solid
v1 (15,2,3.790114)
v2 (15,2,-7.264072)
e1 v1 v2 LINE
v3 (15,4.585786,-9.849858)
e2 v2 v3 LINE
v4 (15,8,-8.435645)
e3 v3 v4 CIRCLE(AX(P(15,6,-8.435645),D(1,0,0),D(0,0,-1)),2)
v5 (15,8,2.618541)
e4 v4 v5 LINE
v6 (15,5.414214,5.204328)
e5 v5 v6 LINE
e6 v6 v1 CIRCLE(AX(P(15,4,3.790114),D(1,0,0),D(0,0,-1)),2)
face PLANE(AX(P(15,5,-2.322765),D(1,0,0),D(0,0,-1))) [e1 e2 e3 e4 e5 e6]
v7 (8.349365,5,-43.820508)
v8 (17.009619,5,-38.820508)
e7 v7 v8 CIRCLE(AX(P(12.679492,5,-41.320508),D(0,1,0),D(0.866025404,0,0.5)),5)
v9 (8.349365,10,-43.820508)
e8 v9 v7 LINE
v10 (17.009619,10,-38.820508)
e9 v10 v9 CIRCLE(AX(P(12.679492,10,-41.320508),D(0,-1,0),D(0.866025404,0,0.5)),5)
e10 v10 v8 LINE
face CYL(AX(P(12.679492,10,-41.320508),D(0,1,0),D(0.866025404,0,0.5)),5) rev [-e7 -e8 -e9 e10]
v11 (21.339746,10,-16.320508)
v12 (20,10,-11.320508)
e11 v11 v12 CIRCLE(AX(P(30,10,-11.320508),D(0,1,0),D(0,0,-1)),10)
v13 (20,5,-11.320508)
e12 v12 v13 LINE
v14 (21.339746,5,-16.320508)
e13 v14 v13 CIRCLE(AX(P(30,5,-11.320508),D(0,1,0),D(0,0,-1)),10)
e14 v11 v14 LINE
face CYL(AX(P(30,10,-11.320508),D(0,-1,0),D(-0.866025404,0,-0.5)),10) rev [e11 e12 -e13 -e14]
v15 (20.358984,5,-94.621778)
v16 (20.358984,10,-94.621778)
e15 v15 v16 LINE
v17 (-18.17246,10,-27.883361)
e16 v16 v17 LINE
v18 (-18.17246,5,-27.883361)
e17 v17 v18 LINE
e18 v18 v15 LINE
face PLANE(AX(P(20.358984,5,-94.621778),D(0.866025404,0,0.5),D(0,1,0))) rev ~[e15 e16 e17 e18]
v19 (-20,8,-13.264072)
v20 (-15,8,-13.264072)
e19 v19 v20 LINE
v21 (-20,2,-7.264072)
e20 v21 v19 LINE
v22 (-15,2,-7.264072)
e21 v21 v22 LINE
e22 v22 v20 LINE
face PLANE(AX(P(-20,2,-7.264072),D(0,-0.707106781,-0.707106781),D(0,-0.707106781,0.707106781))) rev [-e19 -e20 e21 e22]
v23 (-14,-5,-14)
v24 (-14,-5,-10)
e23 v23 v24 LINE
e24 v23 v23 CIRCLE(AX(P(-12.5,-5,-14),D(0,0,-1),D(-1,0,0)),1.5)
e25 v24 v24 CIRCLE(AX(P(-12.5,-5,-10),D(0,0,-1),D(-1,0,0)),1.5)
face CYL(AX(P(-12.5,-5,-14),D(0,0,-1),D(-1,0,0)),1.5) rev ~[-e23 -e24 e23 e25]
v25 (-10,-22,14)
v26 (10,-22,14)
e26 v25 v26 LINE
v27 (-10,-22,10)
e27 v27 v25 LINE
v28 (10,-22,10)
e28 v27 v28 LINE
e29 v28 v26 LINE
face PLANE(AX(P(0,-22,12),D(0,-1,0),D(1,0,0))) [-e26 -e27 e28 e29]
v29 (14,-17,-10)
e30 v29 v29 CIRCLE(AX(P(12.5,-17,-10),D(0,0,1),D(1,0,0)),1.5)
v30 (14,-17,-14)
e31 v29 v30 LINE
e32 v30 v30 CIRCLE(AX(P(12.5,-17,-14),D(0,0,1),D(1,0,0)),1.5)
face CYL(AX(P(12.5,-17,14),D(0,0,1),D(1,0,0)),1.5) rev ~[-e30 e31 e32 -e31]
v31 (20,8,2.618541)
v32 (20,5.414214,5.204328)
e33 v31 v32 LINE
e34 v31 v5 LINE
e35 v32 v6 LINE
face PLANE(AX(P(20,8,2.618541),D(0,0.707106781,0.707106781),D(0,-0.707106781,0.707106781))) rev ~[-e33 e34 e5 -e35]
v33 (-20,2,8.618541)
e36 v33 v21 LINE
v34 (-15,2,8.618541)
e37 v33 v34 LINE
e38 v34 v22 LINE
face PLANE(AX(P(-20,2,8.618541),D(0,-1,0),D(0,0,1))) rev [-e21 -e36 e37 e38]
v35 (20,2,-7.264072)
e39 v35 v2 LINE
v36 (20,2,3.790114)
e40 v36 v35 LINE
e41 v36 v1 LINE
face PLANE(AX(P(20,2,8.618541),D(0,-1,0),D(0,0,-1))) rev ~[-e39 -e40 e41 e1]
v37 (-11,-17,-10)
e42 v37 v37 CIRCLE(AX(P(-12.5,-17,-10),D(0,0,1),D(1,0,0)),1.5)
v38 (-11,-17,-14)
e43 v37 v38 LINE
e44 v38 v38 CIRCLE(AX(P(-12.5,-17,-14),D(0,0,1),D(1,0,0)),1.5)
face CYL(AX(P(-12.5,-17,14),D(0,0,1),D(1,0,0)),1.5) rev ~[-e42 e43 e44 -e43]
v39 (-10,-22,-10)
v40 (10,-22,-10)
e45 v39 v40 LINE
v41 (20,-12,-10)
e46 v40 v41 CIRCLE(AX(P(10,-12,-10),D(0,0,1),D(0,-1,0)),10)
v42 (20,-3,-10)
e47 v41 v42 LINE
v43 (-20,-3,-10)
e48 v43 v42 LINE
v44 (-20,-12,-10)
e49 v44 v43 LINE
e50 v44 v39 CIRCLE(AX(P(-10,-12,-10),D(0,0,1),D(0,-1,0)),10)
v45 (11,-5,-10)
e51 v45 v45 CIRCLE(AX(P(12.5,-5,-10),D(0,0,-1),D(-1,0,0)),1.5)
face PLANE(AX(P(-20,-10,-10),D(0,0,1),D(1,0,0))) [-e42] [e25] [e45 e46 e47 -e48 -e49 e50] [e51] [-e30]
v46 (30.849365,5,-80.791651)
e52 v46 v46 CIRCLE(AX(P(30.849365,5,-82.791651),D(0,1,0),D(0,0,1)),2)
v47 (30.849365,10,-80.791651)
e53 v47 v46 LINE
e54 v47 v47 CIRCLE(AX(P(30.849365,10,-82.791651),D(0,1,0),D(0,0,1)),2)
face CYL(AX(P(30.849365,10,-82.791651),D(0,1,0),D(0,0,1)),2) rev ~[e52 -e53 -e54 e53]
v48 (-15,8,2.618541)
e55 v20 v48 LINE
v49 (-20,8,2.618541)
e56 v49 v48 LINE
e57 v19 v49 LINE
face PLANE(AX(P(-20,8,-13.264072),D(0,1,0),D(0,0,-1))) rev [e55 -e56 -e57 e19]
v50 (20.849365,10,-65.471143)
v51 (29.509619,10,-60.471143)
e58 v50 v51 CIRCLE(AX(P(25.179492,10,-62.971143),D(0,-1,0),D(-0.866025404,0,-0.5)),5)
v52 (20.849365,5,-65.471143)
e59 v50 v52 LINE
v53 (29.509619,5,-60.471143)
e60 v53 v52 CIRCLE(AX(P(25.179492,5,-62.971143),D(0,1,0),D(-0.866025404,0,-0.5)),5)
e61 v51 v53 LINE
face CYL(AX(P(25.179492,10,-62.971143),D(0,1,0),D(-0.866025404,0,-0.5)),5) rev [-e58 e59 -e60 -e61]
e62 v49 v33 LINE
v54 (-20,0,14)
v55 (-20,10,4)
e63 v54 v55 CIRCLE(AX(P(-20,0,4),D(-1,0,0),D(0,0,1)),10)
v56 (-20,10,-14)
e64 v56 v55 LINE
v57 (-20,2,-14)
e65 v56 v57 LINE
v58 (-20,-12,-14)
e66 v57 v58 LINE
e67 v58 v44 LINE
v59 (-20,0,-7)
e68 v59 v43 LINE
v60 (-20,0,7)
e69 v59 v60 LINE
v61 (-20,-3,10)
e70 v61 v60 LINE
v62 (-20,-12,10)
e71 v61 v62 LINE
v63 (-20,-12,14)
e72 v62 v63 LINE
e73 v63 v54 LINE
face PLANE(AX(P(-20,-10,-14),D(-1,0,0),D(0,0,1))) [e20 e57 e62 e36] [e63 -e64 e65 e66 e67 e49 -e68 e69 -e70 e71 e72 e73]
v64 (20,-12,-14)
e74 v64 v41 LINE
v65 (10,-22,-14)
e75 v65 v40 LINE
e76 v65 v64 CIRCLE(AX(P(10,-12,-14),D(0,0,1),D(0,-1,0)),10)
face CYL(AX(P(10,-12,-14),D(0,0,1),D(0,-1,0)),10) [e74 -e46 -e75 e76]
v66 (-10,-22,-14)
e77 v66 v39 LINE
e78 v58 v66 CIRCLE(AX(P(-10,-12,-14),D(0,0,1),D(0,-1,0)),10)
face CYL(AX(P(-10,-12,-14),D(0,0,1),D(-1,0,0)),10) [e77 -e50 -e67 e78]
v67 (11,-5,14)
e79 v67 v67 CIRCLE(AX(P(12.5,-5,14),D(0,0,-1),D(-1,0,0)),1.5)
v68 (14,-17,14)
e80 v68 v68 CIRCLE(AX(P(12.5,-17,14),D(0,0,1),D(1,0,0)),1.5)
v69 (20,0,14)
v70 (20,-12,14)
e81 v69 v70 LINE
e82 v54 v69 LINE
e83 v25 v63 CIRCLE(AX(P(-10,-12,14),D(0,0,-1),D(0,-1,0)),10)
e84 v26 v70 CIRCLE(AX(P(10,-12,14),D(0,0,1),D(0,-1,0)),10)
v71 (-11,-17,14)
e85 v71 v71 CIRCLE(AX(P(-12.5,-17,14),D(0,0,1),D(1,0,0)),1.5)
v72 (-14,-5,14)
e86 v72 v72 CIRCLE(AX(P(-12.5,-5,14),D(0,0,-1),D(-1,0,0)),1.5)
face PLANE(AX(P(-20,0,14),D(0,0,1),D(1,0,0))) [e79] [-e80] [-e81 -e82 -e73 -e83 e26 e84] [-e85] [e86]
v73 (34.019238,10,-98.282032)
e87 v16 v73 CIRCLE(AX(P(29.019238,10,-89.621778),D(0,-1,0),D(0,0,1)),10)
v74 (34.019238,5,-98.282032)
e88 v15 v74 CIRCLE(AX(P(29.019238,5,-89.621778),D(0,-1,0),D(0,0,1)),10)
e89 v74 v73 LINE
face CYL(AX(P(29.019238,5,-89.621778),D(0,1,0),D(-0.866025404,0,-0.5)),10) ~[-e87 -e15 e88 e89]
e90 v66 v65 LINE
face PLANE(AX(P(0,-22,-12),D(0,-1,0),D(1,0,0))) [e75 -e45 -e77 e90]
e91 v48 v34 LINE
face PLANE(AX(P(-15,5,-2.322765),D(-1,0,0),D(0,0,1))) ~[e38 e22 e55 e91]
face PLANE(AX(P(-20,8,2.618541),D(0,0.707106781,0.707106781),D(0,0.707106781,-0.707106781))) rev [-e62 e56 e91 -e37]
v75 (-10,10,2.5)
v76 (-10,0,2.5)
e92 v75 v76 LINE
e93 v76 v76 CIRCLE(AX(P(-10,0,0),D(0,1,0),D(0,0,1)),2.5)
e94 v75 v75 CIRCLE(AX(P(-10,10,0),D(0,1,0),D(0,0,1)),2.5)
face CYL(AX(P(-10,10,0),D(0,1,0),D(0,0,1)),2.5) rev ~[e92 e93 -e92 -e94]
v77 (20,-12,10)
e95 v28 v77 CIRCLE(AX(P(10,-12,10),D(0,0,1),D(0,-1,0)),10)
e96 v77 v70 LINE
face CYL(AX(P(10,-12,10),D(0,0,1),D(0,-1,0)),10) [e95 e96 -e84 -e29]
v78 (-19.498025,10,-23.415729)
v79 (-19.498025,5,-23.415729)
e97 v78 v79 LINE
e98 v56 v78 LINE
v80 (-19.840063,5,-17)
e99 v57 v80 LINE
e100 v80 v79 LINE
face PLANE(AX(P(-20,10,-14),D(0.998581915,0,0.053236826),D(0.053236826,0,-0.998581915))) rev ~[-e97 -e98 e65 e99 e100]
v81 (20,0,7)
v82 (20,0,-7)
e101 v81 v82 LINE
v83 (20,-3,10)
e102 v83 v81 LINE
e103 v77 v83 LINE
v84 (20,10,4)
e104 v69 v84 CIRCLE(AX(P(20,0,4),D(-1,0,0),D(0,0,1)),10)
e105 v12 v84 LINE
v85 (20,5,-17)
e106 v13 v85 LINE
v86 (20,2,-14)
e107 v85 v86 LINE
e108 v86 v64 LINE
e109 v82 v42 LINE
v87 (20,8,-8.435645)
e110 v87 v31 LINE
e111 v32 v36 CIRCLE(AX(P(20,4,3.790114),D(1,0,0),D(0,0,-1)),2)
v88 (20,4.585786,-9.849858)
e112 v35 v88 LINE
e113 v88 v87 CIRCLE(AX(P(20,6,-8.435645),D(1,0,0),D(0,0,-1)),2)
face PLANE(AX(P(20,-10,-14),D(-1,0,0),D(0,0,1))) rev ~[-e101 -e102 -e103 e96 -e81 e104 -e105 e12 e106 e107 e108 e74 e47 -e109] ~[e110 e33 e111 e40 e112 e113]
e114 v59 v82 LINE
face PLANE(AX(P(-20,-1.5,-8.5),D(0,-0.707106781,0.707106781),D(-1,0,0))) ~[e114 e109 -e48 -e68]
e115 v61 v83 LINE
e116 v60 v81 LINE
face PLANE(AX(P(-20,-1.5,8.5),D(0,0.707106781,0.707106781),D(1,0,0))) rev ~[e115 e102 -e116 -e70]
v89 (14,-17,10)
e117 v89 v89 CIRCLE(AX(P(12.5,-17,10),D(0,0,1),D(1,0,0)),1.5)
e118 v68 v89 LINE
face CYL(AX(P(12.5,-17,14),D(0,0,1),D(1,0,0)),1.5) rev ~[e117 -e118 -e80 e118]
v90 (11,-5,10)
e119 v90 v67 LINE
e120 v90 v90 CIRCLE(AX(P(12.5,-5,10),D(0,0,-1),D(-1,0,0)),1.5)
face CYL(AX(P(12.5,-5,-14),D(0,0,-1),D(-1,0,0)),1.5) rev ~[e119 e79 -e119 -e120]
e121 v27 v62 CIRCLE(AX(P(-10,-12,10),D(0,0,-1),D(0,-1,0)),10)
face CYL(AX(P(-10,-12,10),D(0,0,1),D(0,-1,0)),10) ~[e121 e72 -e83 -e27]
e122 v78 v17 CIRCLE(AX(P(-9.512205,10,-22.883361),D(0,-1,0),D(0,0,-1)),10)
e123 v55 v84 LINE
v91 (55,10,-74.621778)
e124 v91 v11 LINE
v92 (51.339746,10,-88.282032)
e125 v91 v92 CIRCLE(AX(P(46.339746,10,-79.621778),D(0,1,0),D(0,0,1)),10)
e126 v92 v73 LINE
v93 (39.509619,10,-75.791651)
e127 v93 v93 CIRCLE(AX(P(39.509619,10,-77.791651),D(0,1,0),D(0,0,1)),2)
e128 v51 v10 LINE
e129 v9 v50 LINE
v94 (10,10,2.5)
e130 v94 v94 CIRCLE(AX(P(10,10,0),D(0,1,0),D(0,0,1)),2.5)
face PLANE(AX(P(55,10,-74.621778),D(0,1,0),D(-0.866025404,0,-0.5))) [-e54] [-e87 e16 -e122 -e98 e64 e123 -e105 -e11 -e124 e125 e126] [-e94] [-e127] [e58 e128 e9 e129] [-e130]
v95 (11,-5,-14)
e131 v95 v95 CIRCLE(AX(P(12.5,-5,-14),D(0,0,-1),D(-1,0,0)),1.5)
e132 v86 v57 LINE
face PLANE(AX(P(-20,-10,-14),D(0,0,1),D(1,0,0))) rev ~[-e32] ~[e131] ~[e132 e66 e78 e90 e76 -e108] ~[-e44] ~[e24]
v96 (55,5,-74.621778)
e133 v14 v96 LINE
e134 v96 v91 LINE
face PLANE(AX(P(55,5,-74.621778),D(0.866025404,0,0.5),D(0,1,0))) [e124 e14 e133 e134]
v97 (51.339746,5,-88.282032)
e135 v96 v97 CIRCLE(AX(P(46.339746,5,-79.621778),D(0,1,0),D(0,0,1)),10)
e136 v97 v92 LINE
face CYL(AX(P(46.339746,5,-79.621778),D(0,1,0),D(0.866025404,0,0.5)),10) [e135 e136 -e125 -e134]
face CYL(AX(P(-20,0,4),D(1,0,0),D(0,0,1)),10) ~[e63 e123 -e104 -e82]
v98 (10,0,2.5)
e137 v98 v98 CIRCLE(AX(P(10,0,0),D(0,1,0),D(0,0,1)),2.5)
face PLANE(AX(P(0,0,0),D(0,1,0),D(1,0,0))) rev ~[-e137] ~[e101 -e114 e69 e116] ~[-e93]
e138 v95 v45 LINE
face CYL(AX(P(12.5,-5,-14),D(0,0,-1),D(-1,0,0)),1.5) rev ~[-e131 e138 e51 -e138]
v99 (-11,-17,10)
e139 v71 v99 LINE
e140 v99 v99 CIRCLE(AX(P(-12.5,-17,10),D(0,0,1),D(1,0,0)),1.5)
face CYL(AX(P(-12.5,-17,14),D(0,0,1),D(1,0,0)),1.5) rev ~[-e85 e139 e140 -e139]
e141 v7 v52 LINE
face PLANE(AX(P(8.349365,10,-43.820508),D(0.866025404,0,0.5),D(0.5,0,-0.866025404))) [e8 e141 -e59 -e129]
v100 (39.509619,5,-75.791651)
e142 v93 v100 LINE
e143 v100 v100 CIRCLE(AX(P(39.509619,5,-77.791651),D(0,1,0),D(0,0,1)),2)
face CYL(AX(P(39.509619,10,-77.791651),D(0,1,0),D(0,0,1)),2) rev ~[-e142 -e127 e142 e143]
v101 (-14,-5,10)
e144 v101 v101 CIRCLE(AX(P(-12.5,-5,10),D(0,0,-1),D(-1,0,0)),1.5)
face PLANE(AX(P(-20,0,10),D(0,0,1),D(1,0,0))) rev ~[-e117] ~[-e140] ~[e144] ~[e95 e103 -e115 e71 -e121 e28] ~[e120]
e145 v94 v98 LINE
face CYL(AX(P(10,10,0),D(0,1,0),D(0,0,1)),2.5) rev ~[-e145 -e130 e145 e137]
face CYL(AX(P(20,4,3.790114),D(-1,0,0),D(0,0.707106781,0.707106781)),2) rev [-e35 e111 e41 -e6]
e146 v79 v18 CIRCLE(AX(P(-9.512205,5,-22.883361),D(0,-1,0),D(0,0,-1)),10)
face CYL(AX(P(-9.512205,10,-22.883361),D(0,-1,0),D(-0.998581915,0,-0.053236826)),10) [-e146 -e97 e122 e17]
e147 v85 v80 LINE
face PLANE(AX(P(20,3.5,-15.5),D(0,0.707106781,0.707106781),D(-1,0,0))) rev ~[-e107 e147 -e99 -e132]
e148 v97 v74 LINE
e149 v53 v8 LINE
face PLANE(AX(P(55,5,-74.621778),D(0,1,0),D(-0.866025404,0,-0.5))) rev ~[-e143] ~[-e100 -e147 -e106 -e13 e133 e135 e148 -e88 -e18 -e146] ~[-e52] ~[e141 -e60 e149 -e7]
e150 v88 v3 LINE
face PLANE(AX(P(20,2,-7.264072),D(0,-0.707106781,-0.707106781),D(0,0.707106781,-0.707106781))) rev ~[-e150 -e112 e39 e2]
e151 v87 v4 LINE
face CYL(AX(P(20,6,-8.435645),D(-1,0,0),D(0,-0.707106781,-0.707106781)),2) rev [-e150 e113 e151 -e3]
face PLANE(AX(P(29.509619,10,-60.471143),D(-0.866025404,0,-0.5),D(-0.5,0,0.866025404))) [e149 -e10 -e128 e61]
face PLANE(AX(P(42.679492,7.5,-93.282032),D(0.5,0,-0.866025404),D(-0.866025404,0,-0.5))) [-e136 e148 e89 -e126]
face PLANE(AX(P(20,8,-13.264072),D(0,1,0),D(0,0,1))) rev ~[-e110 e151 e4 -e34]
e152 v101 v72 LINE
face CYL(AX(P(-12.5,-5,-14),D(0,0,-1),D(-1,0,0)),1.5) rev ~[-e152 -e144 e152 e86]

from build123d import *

# Parameters (mm, degrees)
EXTRUDE_1_DEPTH      = 10
SKETCH_2_W           = 40
SKETCH_2_H           = 4
SKETCH_2_H_2         = 3.9999999999999982
EXTRUDE_2_DEPTH      = 10
SKETCH_4_W           = 40
SKETCH_4_H           = 5
EXTRUDE_3_DEPTH      = 15
SKETCH_6_W           = 40
SKETCH_6_H           = 5
EXTRUDE_4_DEPTH      = 15
SKETCH_8_R           = 2.5000000000000004
CUT_EXTRUDE_2_DEPTH  = 15
CHAMFER_1_SIZE       = 3
FILLET_1_R           = 10
CHAMFER_2_SIZE       = 3
SKETCH_9_R           = 1.5000000000000007
CUT_EXTRUDE_3_DEPTH  = 38.41657386773942
CUT_EXTRUDE_4_DEPTH  = 5
FILLET_3_R           = 2
SKETCH_11_W          = 40
SKETCH_11_H          = 6.999999999999998
SKETCH_11_H_2        = 7
EXTRUDE_5_DEPTH      = 3
CHAMFER_3_SIZE       = 1
SKETCH_12_W          = 40
SKETCH_12_H          = 5
EXTRUDE_6_DEPTH      = 30
FILLET_4_R           = 10
SKETCH_13_R          = 2
SKETCH_13_R_2        = 2.0000000000000027
CUT_EXTRUDE_5_DEPTH  = 30
EXTRUDE_START        = -5
EXTRUDE_7_DEPTH      = 5
CUT_EXTRUDE_6_DEPTH  = 5
SKETCH_16_W          = 20.000000000000007
SKETCH_16_H          = 9.517030698893077
CUT_EXTRUDE_7_DEPTH  = 122.15395545343927
SKETCH_17_W          = 40
SKETCH_17_H          = 3.9999999999999982
SKETCH_17_H_2        = 4
EXTRUDE_8_DEPTH      = 12
SKETCH_18_R          = 1.5000000000000007
SKETCH_18_R_2        = 1.5000000000000009
CUT_EXTRUDE_8_DEPTH  = 124.72425272933131
SKETCH_19_R          = 2.0000000000000067
SKETCH_19_R_2        = 2.0000000000000036
CUT_EXTRUDE_9_DEPTH  = 115.02754457592229
CUT_EXTRUDE_10_DEPTH = 115.02754457592229
EXTRUDE_9_DEPTH      = 5
SKETCH_23_R          = 2.0000000000000036
SKETCH_23_R_2        = 2.0000000000000067
CUT_EXTRUDE_11_DEPTH = 115.0275445759223
SKETCH_24_R          = 2.0000000000000067
SKETCH_24_R_2        = 2.0000000000000036
CUT_EXTRUDE_12_DEPTH = 115.02754457592229
CUT_EXTRUDE_13_DEPTH = 115.02754457592229
SKETCH_26_W          = 40
SKETCH_26_H          = 5
EXTRUDE_10_DEPTH     = 10
FILLET_6_R           = 10


with BuildPart() as part:
    # 草图1 → 凸台-拉伸1 (new body)
    with BuildSketch(Plane(origin=(0, 0, 0), x_dir=(1, 0, 0), z_dir=(0, 1, 0))):
        Polygon((20.000000000000004, 14.000000000000007), (-19.999999999999996, 14.000000000000002), (-19.999999999999996, -13.999999999999998), (20.000000000000004, -13.999999999999993), align=None)
    extrude(amount=EXTRUDE_1_DEPTH)

    # 草图2 → 凸台-拉伸2 (add)
    with BuildSketch(Plane.XZ):
        with Locations((3.55e-15, 11.999999999999998)):
            Rectangle(SKETCH_2_W, SKETCH_2_H)
        with Locations((3.55e-15, -12.000000000000007)):
            Rectangle(SKETCH_2_W, SKETCH_2_H_2)
    extrude(amount=EXTRUDE_2_DEPTH)

    # 草图4 → 凸台-拉伸3 (add)
    with BuildSketch(Plane(origin=(-1.82e-15, 0, -14.000000000000004), x_dir=(-1, 0, 1.3e-16), z_dir=(-1.3e-16, 0, -1))):
        with Locations((-7.11e-15, 7.5)):
            Rectangle(SKETCH_4_W, SKETCH_4_H)
    extrude(amount=EXTRUDE_3_DEPTH)

    # 草图6 → 凸台-拉伸4 (add)
    with BuildSketch(Plane(origin=(-3.77e-15, 0, -29.000000000000004), x_dir=(-1, 0, 1.3e-16), z_dir=(-1.3e-16, 0, -1))):
        with Locations((-3.55e-15, 7.5)):
            Rectangle(SKETCH_6_W, SKETCH_6_H)
    extrude(amount=EXTRUDE_4_DEPTH)

    # 草图8 → 切除-拉伸2 (cut)
    with BuildSketch(Plane(origin=(0, 10, 0), x_dir=(1, 0, 0), z_dir=(0, 1, 0))):
        with Locations(Location((-10.000000000000004, 1.73e-15, 0), (0, 0, 270))):
            Circle(SKETCH_8_R)
        with Locations(Location((10.000000000000002, 1.73e-15, 0), (0, 0, 270))):
            Circle(SKETCH_8_R)
    extrude(amount=-CUT_EXTRUDE_2_DEPTH, mode=Mode.SUBTRACT)

    # 倒角1
    chamfer_1_edges = [part.edges().sort_by_distance(p)[0] for p in [
        (3.55e-15, 0, 9.999999999999998),
        (3.55e-15, 0, -10.000000000000007),
    ]]
    chamfer(chamfer_1_edges, length=CHAMFER_1_SIZE)

    # 圆角1
    fillet_1_edges = [part.edges().sort_by_distance(p)[0] for p in [
        (3.55e-15, 10, 13.999999999999996),
    ]]
    fillet(fillet_1_edges, radius=FILLET_1_R)

    # 倒角2
    chamfer_2_edges = [part.edges().sort_by_distance(p)[0] for p in [
        (5.28e-15, 5, -14.000000000000004),
    ]]
    chamfer(chamfer_2_edges, length=CHAMFER_2_SIZE)

    # 草图9 → 切除-拉伸3 (cut, through all)
    with BuildSketch(Plane(origin=(-1.82e-15, 0, -14.000000000000004), x_dir=(-1, 0, 1.3e-16), z_dir=(-1.3e-16, 0, -1))):
        with Locations((-12.500000000000007, -5)):
            Circle(SKETCH_9_R)
        with Locations((12.499999999999993, -5)):
            Circle(SKETCH_9_R)
    extrude(amount=-CUT_EXTRUDE_3_DEPTH, mode=Mode.SUBTRACT)

    # 草图10 → 切除-拉伸4 (cut)
    with BuildSketch(Plane(origin=(20.000000000000004, 0, 0), x_dir=(0, 0, -1), z_dir=(1, 0, 0))):
        Polygon((-2.6185414170321746, 7.999999999999998), (-8.618541417032173, 2), (7.26407194166772, 2), (13.264071941667716, 8), align=None)
    cut_extrude_4 = extrude(amount=-CUT_EXTRUDE_4_DEPTH, mode=Mode.SUBTRACT)

    # 圆角3
    fillet_3_edges = [part.edges().sort_by_distance(p)[0] for p in [
        (17.500000000000004, 8, -13.264071941667716),
        (17.500000000000004, 2, 8.618541417032173),
    ]]
    fillet(fillet_3_edges, radius=FILLET_3_R)

    # 镜向1: 切除-拉伸4 across plane
    add(cut_extrude_4.mirror(Plane(origin=(0, 0, 0), x_dir=(0, 0, 1), z_dir=(1, 0, 0))), mode=Mode.SUBTRACT)

    # 草图11 → 凸台-拉伸5 (add)
    with BuildSketch(Plane.XZ.offset(10)):
        with Locations((3.55e-15, -10.500000000000007)):
            Rectangle(SKETCH_11_W, SKETCH_11_H)
        with Locations((3.55e-15, 10.499999999999998)):
            Rectangle(SKETCH_11_W, SKETCH_11_H_2)
    extrude(amount=-EXTRUDE_5_DEPTH)

    # 倒角3
    chamfer_3_edges = [part.edges().sort_by_distance(p)[0] for p in [
        (3.55e-15, -7, -7.000000000000007),
        (3.55e-15, -7, 6.999999999999998),
    ]]
    chamfer(chamfer_3_edges, length=CHAMFER_3_SIZE)

    # 草图12 → 凸台-拉伸6 (add)
    with BuildSketch(Plane(origin=(-7.63e-15, 0, -44.00000000000001), x_dir=(-1, 0, 1.7e-16), z_dir=(-1.7e-16, 0, -1))):
        with Locations((-3.55e-15, 7.5)):
            Rectangle(SKETCH_12_W, SKETCH_12_H)
    extrude(amount=EXTRUDE_6_DEPTH)

    # 圆角4
    fillet_4_edges = [part.edges().sort_by_distance(p)[0] for p in [
        (19.99999999999999, 7.5, -74),
        (-20.00000000000001, 7.5, -74),
    ]]
    fillet(fillet_4_edges, radius=FILLET_4_R)

    # 草图13 → 切除-拉伸5 (cut)
    with BuildSketch(Plane(origin=(0, 10, 0), x_dir=(1, 0, 0), z_dir=(0, 1, 0))):
        with Locations(Location((9.140000000000004, 70, 0), (0, 0, 270))):
            Circle(SKETCH_13_R)
        with Locations(Location((-0.8599999999999962, 70.00000000000001, 0), (0, 0, 270))):
            Circle(SKETCH_13_R_2)
    extrude(amount=-CUT_EXTRUDE_5_DEPTH, mode=Mode.SUBTRACT)

    # 草图14 → 凸台-拉伸7 (add)
    with BuildSketch(Plane(origin=(0, 10, 0), x_dir=(1, 0, 0), z_dir=(0, 1, 0)).offset(EXTRUDE_START)):
        with BuildLine():
            Line((-19.999999999999996, 64.00000000000001), (-19.999999999999996, 14.000000000000007))
            Line((-19.999999999999996, 14.000000000000007), (20.000000000000004, 14.000000000000007))
            Line((20.000000000000004, 14.000000000000007), (20.000000000000004, 24.71796769724495))
            Line((20.000000000000004, 24.717967697244944), (-8.452994616207512, 74.00000000000003))
            Line((-8.45299461620751, 74.00000000000001), (-9.999999999999998, 74.00000000000001))
            ThreePointArc((-9.999999999999998, 74.00000000000001), (-17.071067811865472, 71.07106781186549), (-19.999999999999996, 64.00000000000001))
        make_face()
        with BuildLine():
            Line((-55.00000000000003, 74.62177826491072), (-19.999999999999996, 14.000000000000007))
            Line((-19.999999999999996, 14.000000000000007), (-19.999999999999996, 64.00000000000001))
            ThreePointArc((-19.999999999999996, 64.00000000000001), (-17.071067811865472, 71.07106781186549), (-9.999999999999998, 74.00000000000001))
            Line((-9.999999999999998, 74.00000000000001), (-8.45299461620751, 74.00000000000001))
            Line((-8.452994616207512, 74.00000000000003), (-20.35898384862252, 94.62177826491077))
            Line((-20.35898384862252, 94.62177826491077), (-55.000000000000014, 74.62177826491072))
        make_face()
    extrude(amount=EXTRUDE_7_DEPTH)

    # 草图15 → 切除-拉伸6 (cut)
    with BuildSketch(Plane(origin=(0, 10, 0), x_dir=(1, 0, 0), z_dir=(0, 1, 0))):
        Polygon((-8.452994616207489, 74.00000000000001), (20.000000000000004, 24.717967697244916), (20.000000000000004, 77.52110183518307), align=None)
    extrude(amount=-CUT_EXTRUDE_6_DEPTH, mode=Mode.SUBTRACT)

    # 草图16 → 切除-拉伸7 (cut, through all)
    with BuildSketch(Plane(origin=(20.000000000000004, 0, 0), x_dir=(0, 0, -1), z_dir=(1, 0, 0))):
        with Locations((4.44e-15, -11.758515349446538)):
            Rectangle(SKETCH_16_W, SKETCH_16_H)
    extrude(amount=-CUT_EXTRUDE_7_DEPTH, mode=Mode.SUBTRACT)

    # 草图17 → 凸台-拉伸8 (add)
    with BuildSketch(Plane.XZ.offset(10)):
        with Locations((3.55e-15, -12.000000000000007)):
            Rectangle(SKETCH_17_W, SKETCH_17_H)
        with Locations((3.55e-15, 11.999999999999998)):
            Rectangle(SKETCH_17_W, SKETCH_17_H_2)
    extrude(amount=EXTRUDE_8_DEPTH)

    # 草图18 → 切除-拉伸8 (cut, through all)
    with BuildSketch(Plane.XY.offset(13.999999999999996)):
        with Locations(Location((-12.499999999999993, -5, 0), (0, 0, 180))):
            Circle(SKETCH_18_R)
        with Locations(Location((12.500000000000007, -5, 0), (0, 0, 180))):
            Circle(SKETCH_18_R)
        with Locations((12.500000000000007, -16.999999999999996)):
            Circle(SKETCH_18_R_2)
        with Locations((-12.499999999999993, -16.999999999999996)):
            Circle(SKETCH_18_R_2)
    extrude(amount=-CUT_EXTRUDE_8_DEPTH, mode=Mode.SUBTRACT)

    # 草图19 → 切除-拉伸9 (cut, through all)
    with BuildSketch(Plane(origin=(0, 10, 0), x_dir=(1, 0, 0), z_dir=(0, 1, 0))):
        with Locations(Location((-30.84936490538909, 82.79165124598856, 0), (0, 0, 270))):
            Circle(SKETCH_19_R)
        with Locations(Location((-39.509618943233484, 77.79165124598855, 0), (0, 0, 270))):
            Circle(SKETCH_19_R_2)
    extrude(amount=-CUT_EXTRUDE_9_DEPTH, mode=Mode.SUBTRACT)

    # 草图20 → 切除-拉伸10 (cut, through all)
    with BuildSketch(Plane(origin=(0, 10, 0), x_dir=(1, 0, 0), z_dir=(0, 1, 0))):
        with BuildLine():
            Line((-22.598956840337568, 65.9859096217943), (-11.740968079891154, 47.17932142068932))
            ThreePointArc((-11.740968079891154, 47.17932142068932), (-13.11070547769434, 42.067391859060635), (-18.22263503932303, 43.43712925686382))
            Line((-18.22263503932303, 43.43712925686382), (-29.080623799769445, 62.2437174579688))
            ThreePointArc((-29.080623799769445, 62.2437174579688), (-27.71088640196626, 67.35564701959748), (-22.598956840337568, 65.9859096217943))
        make_face()
    extrude(amount=-CUT_EXTRUDE_10_DEPTH, mode=Mode.SUBTRACT)

    # 草图22 → 凸台-拉伸9 (add)
    with BuildSketch(Plane(origin=(0, 10, 0), x_dir=(1, 0, 0), z_dir=(0, 1, 0))):
        Polygon((20.000000000000004, 24.717967697244916), (20.000000000000004, 14.000000000000005), (52.185853837740325, 69.74753413195232), (55.00000000000002, 74.62177826491073), (20.35898384862252, 94.62177826491079), (1.066e-14, 59.358983848622465), align=None)
    extrude(amount=-EXTRUDE_9_DEPTH)

    # 草图23 → 切除-拉伸11 (cut, through all)
    # profile 1 of 2: a face of its own
    with BuildSketch(Plane(origin=(0, 10, 0), x_dir=(1, 0, 0), z_dir=(0, 1, 0))):
        Polygon((-19.37046826566082, 25.80834864609737), (-3.47e-15, 59.35898384862246), (-20.35898384862252, 94.62177826491079), (-55.000000000000014, 74.62177826491073), (-23.09401076758504, 19.358983848622493), align=None)
        with BuildLine():
            ThreePointArc((-11.740968079891154, 47.17932142068932), (-13.110705477694344, 42.067391859060635), (-18.22263503932303, 43.43712925686382))
            Line((-18.22263503932303, 43.43712925686382), (-29.080623799769448, 62.24371745796881))
            ThreePointArc((-29.080623799769445, 62.24371745796881), (-27.710886401966246, 67.3556470195975), (-22.598956840337564, 65.9859096217943))
            Line((-22.598956840337568, 65.9859096217943), (-11.740968079891154, 47.17932142068932))
        make_face(mode=Mode.SUBTRACT)
        with Locations((-39.509618943233484, 77.79165124598855)):
            Circle(SKETCH_23_R, mode=Mode.SUBTRACT)
        with Locations((-30.84936490538909, 82.79165124598856)):
            Circle(SKETCH_23_R_2, mode=Mode.SUBTRACT)
    # profile 2 of 2: a face of its own
    with BuildSketch(Plane(origin=(0, 10, 0), x_dir=(1, 0, 0), z_dir=(0, 1, 0))):
        Polygon((-20, 14.00000000000002), (-19.370468265660815, 25.80834864609738), (-23.094010767585043, 19.358983848622486), align=None)
    extrude(amount=-CUT_EXTRUDE_11_DEPTH, mode=Mode.SUBTRACT)

    # 草图24 → 切除-拉伸12 (cut, through all)
    with BuildSketch(Plane(origin=(0, 10, 0), x_dir=(1, 0, 0), z_dir=(0, 1, 0))):
        with Locations(Location((30.849364905389077, 82.79165124598858, 0), (0, 0, 270))):
            Circle(SKETCH_24_R)
        with Locations(Location((39.50961894323347, 77.79165124598856, 0), (0, 0, 270))):
            Circle(SKETCH_24_R_2)
    extrude(amount=-CUT_EXTRUDE_12_DEPTH, mode=Mode.SUBTRACT)

    # 草图25 → 切除-拉伸13 (cut, through all)
    with BuildSketch(Plane(origin=(0, 10, 0), x_dir=(1, 0, 0), z_dir=(0, 1, 0))):
        with BuildLine():
            Line((8.349364905389072, 43.82050807568882), (20.84936490538906, 65.47114317029978))
            ThreePointArc((20.84936490538906, 65.47114317029978), (27.679491924311264, 67.30127018922197), (29.509618943233452, 60.47114317029978))
            Line((29.509618943233452, 60.47114317029978), (17.00961894323346, 38.82050807568883))
            ThreePointArc((17.00961894323346, 38.82050807568883), (10.17949192431127, 36.99038105676664), (8.349364905389072, 43.82050807568882))
        make_face()
    extrude(amount=-CUT_EXTRUDE_13_DEPTH, mode=Mode.SUBTRACT)

    # 草图26 → 凸台-拉伸10 (add)
    with BuildSketch(Plane(origin=(46.06217782649125, 0, -79.78203230275507), x_dir=(-0.8660254037844378, 0, -0.5000000000000016), z_dir=(0.5000000000000016, 0, -0.8660254037844378))):
        with Locations((9.679491924311383, 7.5)):
            Rectangle(SKETCH_26_W, SKETCH_26_H)
    extrude(amount=EXTRUDE_10_DEPTH)

    # 圆角6
    fillet_6_edges = [part.edges().sort_by_distance(p)[0] for p in [
        (-19.999999999999996, -22, -12.000000000000007),
        (-19.999999999999996, -22, 11.999999999999998),
        (20.000000000000004, -22, 11.999999999999998),
        (20.000000000000004, -22, -12.000000000000007),
        (20.000000000000004, 7.5, -14.000000000000007),
        (-19.37046826566082, 7.5, -25.808348646097375),
        (25.358983848622543, 7.5, -103.28203230275518),
        (60.00000000000005, 7.5, -83.28203230275513),
    ]]
    fillet(fillet_6_edges, radius=FILLET_6_R)


solid = part.part
